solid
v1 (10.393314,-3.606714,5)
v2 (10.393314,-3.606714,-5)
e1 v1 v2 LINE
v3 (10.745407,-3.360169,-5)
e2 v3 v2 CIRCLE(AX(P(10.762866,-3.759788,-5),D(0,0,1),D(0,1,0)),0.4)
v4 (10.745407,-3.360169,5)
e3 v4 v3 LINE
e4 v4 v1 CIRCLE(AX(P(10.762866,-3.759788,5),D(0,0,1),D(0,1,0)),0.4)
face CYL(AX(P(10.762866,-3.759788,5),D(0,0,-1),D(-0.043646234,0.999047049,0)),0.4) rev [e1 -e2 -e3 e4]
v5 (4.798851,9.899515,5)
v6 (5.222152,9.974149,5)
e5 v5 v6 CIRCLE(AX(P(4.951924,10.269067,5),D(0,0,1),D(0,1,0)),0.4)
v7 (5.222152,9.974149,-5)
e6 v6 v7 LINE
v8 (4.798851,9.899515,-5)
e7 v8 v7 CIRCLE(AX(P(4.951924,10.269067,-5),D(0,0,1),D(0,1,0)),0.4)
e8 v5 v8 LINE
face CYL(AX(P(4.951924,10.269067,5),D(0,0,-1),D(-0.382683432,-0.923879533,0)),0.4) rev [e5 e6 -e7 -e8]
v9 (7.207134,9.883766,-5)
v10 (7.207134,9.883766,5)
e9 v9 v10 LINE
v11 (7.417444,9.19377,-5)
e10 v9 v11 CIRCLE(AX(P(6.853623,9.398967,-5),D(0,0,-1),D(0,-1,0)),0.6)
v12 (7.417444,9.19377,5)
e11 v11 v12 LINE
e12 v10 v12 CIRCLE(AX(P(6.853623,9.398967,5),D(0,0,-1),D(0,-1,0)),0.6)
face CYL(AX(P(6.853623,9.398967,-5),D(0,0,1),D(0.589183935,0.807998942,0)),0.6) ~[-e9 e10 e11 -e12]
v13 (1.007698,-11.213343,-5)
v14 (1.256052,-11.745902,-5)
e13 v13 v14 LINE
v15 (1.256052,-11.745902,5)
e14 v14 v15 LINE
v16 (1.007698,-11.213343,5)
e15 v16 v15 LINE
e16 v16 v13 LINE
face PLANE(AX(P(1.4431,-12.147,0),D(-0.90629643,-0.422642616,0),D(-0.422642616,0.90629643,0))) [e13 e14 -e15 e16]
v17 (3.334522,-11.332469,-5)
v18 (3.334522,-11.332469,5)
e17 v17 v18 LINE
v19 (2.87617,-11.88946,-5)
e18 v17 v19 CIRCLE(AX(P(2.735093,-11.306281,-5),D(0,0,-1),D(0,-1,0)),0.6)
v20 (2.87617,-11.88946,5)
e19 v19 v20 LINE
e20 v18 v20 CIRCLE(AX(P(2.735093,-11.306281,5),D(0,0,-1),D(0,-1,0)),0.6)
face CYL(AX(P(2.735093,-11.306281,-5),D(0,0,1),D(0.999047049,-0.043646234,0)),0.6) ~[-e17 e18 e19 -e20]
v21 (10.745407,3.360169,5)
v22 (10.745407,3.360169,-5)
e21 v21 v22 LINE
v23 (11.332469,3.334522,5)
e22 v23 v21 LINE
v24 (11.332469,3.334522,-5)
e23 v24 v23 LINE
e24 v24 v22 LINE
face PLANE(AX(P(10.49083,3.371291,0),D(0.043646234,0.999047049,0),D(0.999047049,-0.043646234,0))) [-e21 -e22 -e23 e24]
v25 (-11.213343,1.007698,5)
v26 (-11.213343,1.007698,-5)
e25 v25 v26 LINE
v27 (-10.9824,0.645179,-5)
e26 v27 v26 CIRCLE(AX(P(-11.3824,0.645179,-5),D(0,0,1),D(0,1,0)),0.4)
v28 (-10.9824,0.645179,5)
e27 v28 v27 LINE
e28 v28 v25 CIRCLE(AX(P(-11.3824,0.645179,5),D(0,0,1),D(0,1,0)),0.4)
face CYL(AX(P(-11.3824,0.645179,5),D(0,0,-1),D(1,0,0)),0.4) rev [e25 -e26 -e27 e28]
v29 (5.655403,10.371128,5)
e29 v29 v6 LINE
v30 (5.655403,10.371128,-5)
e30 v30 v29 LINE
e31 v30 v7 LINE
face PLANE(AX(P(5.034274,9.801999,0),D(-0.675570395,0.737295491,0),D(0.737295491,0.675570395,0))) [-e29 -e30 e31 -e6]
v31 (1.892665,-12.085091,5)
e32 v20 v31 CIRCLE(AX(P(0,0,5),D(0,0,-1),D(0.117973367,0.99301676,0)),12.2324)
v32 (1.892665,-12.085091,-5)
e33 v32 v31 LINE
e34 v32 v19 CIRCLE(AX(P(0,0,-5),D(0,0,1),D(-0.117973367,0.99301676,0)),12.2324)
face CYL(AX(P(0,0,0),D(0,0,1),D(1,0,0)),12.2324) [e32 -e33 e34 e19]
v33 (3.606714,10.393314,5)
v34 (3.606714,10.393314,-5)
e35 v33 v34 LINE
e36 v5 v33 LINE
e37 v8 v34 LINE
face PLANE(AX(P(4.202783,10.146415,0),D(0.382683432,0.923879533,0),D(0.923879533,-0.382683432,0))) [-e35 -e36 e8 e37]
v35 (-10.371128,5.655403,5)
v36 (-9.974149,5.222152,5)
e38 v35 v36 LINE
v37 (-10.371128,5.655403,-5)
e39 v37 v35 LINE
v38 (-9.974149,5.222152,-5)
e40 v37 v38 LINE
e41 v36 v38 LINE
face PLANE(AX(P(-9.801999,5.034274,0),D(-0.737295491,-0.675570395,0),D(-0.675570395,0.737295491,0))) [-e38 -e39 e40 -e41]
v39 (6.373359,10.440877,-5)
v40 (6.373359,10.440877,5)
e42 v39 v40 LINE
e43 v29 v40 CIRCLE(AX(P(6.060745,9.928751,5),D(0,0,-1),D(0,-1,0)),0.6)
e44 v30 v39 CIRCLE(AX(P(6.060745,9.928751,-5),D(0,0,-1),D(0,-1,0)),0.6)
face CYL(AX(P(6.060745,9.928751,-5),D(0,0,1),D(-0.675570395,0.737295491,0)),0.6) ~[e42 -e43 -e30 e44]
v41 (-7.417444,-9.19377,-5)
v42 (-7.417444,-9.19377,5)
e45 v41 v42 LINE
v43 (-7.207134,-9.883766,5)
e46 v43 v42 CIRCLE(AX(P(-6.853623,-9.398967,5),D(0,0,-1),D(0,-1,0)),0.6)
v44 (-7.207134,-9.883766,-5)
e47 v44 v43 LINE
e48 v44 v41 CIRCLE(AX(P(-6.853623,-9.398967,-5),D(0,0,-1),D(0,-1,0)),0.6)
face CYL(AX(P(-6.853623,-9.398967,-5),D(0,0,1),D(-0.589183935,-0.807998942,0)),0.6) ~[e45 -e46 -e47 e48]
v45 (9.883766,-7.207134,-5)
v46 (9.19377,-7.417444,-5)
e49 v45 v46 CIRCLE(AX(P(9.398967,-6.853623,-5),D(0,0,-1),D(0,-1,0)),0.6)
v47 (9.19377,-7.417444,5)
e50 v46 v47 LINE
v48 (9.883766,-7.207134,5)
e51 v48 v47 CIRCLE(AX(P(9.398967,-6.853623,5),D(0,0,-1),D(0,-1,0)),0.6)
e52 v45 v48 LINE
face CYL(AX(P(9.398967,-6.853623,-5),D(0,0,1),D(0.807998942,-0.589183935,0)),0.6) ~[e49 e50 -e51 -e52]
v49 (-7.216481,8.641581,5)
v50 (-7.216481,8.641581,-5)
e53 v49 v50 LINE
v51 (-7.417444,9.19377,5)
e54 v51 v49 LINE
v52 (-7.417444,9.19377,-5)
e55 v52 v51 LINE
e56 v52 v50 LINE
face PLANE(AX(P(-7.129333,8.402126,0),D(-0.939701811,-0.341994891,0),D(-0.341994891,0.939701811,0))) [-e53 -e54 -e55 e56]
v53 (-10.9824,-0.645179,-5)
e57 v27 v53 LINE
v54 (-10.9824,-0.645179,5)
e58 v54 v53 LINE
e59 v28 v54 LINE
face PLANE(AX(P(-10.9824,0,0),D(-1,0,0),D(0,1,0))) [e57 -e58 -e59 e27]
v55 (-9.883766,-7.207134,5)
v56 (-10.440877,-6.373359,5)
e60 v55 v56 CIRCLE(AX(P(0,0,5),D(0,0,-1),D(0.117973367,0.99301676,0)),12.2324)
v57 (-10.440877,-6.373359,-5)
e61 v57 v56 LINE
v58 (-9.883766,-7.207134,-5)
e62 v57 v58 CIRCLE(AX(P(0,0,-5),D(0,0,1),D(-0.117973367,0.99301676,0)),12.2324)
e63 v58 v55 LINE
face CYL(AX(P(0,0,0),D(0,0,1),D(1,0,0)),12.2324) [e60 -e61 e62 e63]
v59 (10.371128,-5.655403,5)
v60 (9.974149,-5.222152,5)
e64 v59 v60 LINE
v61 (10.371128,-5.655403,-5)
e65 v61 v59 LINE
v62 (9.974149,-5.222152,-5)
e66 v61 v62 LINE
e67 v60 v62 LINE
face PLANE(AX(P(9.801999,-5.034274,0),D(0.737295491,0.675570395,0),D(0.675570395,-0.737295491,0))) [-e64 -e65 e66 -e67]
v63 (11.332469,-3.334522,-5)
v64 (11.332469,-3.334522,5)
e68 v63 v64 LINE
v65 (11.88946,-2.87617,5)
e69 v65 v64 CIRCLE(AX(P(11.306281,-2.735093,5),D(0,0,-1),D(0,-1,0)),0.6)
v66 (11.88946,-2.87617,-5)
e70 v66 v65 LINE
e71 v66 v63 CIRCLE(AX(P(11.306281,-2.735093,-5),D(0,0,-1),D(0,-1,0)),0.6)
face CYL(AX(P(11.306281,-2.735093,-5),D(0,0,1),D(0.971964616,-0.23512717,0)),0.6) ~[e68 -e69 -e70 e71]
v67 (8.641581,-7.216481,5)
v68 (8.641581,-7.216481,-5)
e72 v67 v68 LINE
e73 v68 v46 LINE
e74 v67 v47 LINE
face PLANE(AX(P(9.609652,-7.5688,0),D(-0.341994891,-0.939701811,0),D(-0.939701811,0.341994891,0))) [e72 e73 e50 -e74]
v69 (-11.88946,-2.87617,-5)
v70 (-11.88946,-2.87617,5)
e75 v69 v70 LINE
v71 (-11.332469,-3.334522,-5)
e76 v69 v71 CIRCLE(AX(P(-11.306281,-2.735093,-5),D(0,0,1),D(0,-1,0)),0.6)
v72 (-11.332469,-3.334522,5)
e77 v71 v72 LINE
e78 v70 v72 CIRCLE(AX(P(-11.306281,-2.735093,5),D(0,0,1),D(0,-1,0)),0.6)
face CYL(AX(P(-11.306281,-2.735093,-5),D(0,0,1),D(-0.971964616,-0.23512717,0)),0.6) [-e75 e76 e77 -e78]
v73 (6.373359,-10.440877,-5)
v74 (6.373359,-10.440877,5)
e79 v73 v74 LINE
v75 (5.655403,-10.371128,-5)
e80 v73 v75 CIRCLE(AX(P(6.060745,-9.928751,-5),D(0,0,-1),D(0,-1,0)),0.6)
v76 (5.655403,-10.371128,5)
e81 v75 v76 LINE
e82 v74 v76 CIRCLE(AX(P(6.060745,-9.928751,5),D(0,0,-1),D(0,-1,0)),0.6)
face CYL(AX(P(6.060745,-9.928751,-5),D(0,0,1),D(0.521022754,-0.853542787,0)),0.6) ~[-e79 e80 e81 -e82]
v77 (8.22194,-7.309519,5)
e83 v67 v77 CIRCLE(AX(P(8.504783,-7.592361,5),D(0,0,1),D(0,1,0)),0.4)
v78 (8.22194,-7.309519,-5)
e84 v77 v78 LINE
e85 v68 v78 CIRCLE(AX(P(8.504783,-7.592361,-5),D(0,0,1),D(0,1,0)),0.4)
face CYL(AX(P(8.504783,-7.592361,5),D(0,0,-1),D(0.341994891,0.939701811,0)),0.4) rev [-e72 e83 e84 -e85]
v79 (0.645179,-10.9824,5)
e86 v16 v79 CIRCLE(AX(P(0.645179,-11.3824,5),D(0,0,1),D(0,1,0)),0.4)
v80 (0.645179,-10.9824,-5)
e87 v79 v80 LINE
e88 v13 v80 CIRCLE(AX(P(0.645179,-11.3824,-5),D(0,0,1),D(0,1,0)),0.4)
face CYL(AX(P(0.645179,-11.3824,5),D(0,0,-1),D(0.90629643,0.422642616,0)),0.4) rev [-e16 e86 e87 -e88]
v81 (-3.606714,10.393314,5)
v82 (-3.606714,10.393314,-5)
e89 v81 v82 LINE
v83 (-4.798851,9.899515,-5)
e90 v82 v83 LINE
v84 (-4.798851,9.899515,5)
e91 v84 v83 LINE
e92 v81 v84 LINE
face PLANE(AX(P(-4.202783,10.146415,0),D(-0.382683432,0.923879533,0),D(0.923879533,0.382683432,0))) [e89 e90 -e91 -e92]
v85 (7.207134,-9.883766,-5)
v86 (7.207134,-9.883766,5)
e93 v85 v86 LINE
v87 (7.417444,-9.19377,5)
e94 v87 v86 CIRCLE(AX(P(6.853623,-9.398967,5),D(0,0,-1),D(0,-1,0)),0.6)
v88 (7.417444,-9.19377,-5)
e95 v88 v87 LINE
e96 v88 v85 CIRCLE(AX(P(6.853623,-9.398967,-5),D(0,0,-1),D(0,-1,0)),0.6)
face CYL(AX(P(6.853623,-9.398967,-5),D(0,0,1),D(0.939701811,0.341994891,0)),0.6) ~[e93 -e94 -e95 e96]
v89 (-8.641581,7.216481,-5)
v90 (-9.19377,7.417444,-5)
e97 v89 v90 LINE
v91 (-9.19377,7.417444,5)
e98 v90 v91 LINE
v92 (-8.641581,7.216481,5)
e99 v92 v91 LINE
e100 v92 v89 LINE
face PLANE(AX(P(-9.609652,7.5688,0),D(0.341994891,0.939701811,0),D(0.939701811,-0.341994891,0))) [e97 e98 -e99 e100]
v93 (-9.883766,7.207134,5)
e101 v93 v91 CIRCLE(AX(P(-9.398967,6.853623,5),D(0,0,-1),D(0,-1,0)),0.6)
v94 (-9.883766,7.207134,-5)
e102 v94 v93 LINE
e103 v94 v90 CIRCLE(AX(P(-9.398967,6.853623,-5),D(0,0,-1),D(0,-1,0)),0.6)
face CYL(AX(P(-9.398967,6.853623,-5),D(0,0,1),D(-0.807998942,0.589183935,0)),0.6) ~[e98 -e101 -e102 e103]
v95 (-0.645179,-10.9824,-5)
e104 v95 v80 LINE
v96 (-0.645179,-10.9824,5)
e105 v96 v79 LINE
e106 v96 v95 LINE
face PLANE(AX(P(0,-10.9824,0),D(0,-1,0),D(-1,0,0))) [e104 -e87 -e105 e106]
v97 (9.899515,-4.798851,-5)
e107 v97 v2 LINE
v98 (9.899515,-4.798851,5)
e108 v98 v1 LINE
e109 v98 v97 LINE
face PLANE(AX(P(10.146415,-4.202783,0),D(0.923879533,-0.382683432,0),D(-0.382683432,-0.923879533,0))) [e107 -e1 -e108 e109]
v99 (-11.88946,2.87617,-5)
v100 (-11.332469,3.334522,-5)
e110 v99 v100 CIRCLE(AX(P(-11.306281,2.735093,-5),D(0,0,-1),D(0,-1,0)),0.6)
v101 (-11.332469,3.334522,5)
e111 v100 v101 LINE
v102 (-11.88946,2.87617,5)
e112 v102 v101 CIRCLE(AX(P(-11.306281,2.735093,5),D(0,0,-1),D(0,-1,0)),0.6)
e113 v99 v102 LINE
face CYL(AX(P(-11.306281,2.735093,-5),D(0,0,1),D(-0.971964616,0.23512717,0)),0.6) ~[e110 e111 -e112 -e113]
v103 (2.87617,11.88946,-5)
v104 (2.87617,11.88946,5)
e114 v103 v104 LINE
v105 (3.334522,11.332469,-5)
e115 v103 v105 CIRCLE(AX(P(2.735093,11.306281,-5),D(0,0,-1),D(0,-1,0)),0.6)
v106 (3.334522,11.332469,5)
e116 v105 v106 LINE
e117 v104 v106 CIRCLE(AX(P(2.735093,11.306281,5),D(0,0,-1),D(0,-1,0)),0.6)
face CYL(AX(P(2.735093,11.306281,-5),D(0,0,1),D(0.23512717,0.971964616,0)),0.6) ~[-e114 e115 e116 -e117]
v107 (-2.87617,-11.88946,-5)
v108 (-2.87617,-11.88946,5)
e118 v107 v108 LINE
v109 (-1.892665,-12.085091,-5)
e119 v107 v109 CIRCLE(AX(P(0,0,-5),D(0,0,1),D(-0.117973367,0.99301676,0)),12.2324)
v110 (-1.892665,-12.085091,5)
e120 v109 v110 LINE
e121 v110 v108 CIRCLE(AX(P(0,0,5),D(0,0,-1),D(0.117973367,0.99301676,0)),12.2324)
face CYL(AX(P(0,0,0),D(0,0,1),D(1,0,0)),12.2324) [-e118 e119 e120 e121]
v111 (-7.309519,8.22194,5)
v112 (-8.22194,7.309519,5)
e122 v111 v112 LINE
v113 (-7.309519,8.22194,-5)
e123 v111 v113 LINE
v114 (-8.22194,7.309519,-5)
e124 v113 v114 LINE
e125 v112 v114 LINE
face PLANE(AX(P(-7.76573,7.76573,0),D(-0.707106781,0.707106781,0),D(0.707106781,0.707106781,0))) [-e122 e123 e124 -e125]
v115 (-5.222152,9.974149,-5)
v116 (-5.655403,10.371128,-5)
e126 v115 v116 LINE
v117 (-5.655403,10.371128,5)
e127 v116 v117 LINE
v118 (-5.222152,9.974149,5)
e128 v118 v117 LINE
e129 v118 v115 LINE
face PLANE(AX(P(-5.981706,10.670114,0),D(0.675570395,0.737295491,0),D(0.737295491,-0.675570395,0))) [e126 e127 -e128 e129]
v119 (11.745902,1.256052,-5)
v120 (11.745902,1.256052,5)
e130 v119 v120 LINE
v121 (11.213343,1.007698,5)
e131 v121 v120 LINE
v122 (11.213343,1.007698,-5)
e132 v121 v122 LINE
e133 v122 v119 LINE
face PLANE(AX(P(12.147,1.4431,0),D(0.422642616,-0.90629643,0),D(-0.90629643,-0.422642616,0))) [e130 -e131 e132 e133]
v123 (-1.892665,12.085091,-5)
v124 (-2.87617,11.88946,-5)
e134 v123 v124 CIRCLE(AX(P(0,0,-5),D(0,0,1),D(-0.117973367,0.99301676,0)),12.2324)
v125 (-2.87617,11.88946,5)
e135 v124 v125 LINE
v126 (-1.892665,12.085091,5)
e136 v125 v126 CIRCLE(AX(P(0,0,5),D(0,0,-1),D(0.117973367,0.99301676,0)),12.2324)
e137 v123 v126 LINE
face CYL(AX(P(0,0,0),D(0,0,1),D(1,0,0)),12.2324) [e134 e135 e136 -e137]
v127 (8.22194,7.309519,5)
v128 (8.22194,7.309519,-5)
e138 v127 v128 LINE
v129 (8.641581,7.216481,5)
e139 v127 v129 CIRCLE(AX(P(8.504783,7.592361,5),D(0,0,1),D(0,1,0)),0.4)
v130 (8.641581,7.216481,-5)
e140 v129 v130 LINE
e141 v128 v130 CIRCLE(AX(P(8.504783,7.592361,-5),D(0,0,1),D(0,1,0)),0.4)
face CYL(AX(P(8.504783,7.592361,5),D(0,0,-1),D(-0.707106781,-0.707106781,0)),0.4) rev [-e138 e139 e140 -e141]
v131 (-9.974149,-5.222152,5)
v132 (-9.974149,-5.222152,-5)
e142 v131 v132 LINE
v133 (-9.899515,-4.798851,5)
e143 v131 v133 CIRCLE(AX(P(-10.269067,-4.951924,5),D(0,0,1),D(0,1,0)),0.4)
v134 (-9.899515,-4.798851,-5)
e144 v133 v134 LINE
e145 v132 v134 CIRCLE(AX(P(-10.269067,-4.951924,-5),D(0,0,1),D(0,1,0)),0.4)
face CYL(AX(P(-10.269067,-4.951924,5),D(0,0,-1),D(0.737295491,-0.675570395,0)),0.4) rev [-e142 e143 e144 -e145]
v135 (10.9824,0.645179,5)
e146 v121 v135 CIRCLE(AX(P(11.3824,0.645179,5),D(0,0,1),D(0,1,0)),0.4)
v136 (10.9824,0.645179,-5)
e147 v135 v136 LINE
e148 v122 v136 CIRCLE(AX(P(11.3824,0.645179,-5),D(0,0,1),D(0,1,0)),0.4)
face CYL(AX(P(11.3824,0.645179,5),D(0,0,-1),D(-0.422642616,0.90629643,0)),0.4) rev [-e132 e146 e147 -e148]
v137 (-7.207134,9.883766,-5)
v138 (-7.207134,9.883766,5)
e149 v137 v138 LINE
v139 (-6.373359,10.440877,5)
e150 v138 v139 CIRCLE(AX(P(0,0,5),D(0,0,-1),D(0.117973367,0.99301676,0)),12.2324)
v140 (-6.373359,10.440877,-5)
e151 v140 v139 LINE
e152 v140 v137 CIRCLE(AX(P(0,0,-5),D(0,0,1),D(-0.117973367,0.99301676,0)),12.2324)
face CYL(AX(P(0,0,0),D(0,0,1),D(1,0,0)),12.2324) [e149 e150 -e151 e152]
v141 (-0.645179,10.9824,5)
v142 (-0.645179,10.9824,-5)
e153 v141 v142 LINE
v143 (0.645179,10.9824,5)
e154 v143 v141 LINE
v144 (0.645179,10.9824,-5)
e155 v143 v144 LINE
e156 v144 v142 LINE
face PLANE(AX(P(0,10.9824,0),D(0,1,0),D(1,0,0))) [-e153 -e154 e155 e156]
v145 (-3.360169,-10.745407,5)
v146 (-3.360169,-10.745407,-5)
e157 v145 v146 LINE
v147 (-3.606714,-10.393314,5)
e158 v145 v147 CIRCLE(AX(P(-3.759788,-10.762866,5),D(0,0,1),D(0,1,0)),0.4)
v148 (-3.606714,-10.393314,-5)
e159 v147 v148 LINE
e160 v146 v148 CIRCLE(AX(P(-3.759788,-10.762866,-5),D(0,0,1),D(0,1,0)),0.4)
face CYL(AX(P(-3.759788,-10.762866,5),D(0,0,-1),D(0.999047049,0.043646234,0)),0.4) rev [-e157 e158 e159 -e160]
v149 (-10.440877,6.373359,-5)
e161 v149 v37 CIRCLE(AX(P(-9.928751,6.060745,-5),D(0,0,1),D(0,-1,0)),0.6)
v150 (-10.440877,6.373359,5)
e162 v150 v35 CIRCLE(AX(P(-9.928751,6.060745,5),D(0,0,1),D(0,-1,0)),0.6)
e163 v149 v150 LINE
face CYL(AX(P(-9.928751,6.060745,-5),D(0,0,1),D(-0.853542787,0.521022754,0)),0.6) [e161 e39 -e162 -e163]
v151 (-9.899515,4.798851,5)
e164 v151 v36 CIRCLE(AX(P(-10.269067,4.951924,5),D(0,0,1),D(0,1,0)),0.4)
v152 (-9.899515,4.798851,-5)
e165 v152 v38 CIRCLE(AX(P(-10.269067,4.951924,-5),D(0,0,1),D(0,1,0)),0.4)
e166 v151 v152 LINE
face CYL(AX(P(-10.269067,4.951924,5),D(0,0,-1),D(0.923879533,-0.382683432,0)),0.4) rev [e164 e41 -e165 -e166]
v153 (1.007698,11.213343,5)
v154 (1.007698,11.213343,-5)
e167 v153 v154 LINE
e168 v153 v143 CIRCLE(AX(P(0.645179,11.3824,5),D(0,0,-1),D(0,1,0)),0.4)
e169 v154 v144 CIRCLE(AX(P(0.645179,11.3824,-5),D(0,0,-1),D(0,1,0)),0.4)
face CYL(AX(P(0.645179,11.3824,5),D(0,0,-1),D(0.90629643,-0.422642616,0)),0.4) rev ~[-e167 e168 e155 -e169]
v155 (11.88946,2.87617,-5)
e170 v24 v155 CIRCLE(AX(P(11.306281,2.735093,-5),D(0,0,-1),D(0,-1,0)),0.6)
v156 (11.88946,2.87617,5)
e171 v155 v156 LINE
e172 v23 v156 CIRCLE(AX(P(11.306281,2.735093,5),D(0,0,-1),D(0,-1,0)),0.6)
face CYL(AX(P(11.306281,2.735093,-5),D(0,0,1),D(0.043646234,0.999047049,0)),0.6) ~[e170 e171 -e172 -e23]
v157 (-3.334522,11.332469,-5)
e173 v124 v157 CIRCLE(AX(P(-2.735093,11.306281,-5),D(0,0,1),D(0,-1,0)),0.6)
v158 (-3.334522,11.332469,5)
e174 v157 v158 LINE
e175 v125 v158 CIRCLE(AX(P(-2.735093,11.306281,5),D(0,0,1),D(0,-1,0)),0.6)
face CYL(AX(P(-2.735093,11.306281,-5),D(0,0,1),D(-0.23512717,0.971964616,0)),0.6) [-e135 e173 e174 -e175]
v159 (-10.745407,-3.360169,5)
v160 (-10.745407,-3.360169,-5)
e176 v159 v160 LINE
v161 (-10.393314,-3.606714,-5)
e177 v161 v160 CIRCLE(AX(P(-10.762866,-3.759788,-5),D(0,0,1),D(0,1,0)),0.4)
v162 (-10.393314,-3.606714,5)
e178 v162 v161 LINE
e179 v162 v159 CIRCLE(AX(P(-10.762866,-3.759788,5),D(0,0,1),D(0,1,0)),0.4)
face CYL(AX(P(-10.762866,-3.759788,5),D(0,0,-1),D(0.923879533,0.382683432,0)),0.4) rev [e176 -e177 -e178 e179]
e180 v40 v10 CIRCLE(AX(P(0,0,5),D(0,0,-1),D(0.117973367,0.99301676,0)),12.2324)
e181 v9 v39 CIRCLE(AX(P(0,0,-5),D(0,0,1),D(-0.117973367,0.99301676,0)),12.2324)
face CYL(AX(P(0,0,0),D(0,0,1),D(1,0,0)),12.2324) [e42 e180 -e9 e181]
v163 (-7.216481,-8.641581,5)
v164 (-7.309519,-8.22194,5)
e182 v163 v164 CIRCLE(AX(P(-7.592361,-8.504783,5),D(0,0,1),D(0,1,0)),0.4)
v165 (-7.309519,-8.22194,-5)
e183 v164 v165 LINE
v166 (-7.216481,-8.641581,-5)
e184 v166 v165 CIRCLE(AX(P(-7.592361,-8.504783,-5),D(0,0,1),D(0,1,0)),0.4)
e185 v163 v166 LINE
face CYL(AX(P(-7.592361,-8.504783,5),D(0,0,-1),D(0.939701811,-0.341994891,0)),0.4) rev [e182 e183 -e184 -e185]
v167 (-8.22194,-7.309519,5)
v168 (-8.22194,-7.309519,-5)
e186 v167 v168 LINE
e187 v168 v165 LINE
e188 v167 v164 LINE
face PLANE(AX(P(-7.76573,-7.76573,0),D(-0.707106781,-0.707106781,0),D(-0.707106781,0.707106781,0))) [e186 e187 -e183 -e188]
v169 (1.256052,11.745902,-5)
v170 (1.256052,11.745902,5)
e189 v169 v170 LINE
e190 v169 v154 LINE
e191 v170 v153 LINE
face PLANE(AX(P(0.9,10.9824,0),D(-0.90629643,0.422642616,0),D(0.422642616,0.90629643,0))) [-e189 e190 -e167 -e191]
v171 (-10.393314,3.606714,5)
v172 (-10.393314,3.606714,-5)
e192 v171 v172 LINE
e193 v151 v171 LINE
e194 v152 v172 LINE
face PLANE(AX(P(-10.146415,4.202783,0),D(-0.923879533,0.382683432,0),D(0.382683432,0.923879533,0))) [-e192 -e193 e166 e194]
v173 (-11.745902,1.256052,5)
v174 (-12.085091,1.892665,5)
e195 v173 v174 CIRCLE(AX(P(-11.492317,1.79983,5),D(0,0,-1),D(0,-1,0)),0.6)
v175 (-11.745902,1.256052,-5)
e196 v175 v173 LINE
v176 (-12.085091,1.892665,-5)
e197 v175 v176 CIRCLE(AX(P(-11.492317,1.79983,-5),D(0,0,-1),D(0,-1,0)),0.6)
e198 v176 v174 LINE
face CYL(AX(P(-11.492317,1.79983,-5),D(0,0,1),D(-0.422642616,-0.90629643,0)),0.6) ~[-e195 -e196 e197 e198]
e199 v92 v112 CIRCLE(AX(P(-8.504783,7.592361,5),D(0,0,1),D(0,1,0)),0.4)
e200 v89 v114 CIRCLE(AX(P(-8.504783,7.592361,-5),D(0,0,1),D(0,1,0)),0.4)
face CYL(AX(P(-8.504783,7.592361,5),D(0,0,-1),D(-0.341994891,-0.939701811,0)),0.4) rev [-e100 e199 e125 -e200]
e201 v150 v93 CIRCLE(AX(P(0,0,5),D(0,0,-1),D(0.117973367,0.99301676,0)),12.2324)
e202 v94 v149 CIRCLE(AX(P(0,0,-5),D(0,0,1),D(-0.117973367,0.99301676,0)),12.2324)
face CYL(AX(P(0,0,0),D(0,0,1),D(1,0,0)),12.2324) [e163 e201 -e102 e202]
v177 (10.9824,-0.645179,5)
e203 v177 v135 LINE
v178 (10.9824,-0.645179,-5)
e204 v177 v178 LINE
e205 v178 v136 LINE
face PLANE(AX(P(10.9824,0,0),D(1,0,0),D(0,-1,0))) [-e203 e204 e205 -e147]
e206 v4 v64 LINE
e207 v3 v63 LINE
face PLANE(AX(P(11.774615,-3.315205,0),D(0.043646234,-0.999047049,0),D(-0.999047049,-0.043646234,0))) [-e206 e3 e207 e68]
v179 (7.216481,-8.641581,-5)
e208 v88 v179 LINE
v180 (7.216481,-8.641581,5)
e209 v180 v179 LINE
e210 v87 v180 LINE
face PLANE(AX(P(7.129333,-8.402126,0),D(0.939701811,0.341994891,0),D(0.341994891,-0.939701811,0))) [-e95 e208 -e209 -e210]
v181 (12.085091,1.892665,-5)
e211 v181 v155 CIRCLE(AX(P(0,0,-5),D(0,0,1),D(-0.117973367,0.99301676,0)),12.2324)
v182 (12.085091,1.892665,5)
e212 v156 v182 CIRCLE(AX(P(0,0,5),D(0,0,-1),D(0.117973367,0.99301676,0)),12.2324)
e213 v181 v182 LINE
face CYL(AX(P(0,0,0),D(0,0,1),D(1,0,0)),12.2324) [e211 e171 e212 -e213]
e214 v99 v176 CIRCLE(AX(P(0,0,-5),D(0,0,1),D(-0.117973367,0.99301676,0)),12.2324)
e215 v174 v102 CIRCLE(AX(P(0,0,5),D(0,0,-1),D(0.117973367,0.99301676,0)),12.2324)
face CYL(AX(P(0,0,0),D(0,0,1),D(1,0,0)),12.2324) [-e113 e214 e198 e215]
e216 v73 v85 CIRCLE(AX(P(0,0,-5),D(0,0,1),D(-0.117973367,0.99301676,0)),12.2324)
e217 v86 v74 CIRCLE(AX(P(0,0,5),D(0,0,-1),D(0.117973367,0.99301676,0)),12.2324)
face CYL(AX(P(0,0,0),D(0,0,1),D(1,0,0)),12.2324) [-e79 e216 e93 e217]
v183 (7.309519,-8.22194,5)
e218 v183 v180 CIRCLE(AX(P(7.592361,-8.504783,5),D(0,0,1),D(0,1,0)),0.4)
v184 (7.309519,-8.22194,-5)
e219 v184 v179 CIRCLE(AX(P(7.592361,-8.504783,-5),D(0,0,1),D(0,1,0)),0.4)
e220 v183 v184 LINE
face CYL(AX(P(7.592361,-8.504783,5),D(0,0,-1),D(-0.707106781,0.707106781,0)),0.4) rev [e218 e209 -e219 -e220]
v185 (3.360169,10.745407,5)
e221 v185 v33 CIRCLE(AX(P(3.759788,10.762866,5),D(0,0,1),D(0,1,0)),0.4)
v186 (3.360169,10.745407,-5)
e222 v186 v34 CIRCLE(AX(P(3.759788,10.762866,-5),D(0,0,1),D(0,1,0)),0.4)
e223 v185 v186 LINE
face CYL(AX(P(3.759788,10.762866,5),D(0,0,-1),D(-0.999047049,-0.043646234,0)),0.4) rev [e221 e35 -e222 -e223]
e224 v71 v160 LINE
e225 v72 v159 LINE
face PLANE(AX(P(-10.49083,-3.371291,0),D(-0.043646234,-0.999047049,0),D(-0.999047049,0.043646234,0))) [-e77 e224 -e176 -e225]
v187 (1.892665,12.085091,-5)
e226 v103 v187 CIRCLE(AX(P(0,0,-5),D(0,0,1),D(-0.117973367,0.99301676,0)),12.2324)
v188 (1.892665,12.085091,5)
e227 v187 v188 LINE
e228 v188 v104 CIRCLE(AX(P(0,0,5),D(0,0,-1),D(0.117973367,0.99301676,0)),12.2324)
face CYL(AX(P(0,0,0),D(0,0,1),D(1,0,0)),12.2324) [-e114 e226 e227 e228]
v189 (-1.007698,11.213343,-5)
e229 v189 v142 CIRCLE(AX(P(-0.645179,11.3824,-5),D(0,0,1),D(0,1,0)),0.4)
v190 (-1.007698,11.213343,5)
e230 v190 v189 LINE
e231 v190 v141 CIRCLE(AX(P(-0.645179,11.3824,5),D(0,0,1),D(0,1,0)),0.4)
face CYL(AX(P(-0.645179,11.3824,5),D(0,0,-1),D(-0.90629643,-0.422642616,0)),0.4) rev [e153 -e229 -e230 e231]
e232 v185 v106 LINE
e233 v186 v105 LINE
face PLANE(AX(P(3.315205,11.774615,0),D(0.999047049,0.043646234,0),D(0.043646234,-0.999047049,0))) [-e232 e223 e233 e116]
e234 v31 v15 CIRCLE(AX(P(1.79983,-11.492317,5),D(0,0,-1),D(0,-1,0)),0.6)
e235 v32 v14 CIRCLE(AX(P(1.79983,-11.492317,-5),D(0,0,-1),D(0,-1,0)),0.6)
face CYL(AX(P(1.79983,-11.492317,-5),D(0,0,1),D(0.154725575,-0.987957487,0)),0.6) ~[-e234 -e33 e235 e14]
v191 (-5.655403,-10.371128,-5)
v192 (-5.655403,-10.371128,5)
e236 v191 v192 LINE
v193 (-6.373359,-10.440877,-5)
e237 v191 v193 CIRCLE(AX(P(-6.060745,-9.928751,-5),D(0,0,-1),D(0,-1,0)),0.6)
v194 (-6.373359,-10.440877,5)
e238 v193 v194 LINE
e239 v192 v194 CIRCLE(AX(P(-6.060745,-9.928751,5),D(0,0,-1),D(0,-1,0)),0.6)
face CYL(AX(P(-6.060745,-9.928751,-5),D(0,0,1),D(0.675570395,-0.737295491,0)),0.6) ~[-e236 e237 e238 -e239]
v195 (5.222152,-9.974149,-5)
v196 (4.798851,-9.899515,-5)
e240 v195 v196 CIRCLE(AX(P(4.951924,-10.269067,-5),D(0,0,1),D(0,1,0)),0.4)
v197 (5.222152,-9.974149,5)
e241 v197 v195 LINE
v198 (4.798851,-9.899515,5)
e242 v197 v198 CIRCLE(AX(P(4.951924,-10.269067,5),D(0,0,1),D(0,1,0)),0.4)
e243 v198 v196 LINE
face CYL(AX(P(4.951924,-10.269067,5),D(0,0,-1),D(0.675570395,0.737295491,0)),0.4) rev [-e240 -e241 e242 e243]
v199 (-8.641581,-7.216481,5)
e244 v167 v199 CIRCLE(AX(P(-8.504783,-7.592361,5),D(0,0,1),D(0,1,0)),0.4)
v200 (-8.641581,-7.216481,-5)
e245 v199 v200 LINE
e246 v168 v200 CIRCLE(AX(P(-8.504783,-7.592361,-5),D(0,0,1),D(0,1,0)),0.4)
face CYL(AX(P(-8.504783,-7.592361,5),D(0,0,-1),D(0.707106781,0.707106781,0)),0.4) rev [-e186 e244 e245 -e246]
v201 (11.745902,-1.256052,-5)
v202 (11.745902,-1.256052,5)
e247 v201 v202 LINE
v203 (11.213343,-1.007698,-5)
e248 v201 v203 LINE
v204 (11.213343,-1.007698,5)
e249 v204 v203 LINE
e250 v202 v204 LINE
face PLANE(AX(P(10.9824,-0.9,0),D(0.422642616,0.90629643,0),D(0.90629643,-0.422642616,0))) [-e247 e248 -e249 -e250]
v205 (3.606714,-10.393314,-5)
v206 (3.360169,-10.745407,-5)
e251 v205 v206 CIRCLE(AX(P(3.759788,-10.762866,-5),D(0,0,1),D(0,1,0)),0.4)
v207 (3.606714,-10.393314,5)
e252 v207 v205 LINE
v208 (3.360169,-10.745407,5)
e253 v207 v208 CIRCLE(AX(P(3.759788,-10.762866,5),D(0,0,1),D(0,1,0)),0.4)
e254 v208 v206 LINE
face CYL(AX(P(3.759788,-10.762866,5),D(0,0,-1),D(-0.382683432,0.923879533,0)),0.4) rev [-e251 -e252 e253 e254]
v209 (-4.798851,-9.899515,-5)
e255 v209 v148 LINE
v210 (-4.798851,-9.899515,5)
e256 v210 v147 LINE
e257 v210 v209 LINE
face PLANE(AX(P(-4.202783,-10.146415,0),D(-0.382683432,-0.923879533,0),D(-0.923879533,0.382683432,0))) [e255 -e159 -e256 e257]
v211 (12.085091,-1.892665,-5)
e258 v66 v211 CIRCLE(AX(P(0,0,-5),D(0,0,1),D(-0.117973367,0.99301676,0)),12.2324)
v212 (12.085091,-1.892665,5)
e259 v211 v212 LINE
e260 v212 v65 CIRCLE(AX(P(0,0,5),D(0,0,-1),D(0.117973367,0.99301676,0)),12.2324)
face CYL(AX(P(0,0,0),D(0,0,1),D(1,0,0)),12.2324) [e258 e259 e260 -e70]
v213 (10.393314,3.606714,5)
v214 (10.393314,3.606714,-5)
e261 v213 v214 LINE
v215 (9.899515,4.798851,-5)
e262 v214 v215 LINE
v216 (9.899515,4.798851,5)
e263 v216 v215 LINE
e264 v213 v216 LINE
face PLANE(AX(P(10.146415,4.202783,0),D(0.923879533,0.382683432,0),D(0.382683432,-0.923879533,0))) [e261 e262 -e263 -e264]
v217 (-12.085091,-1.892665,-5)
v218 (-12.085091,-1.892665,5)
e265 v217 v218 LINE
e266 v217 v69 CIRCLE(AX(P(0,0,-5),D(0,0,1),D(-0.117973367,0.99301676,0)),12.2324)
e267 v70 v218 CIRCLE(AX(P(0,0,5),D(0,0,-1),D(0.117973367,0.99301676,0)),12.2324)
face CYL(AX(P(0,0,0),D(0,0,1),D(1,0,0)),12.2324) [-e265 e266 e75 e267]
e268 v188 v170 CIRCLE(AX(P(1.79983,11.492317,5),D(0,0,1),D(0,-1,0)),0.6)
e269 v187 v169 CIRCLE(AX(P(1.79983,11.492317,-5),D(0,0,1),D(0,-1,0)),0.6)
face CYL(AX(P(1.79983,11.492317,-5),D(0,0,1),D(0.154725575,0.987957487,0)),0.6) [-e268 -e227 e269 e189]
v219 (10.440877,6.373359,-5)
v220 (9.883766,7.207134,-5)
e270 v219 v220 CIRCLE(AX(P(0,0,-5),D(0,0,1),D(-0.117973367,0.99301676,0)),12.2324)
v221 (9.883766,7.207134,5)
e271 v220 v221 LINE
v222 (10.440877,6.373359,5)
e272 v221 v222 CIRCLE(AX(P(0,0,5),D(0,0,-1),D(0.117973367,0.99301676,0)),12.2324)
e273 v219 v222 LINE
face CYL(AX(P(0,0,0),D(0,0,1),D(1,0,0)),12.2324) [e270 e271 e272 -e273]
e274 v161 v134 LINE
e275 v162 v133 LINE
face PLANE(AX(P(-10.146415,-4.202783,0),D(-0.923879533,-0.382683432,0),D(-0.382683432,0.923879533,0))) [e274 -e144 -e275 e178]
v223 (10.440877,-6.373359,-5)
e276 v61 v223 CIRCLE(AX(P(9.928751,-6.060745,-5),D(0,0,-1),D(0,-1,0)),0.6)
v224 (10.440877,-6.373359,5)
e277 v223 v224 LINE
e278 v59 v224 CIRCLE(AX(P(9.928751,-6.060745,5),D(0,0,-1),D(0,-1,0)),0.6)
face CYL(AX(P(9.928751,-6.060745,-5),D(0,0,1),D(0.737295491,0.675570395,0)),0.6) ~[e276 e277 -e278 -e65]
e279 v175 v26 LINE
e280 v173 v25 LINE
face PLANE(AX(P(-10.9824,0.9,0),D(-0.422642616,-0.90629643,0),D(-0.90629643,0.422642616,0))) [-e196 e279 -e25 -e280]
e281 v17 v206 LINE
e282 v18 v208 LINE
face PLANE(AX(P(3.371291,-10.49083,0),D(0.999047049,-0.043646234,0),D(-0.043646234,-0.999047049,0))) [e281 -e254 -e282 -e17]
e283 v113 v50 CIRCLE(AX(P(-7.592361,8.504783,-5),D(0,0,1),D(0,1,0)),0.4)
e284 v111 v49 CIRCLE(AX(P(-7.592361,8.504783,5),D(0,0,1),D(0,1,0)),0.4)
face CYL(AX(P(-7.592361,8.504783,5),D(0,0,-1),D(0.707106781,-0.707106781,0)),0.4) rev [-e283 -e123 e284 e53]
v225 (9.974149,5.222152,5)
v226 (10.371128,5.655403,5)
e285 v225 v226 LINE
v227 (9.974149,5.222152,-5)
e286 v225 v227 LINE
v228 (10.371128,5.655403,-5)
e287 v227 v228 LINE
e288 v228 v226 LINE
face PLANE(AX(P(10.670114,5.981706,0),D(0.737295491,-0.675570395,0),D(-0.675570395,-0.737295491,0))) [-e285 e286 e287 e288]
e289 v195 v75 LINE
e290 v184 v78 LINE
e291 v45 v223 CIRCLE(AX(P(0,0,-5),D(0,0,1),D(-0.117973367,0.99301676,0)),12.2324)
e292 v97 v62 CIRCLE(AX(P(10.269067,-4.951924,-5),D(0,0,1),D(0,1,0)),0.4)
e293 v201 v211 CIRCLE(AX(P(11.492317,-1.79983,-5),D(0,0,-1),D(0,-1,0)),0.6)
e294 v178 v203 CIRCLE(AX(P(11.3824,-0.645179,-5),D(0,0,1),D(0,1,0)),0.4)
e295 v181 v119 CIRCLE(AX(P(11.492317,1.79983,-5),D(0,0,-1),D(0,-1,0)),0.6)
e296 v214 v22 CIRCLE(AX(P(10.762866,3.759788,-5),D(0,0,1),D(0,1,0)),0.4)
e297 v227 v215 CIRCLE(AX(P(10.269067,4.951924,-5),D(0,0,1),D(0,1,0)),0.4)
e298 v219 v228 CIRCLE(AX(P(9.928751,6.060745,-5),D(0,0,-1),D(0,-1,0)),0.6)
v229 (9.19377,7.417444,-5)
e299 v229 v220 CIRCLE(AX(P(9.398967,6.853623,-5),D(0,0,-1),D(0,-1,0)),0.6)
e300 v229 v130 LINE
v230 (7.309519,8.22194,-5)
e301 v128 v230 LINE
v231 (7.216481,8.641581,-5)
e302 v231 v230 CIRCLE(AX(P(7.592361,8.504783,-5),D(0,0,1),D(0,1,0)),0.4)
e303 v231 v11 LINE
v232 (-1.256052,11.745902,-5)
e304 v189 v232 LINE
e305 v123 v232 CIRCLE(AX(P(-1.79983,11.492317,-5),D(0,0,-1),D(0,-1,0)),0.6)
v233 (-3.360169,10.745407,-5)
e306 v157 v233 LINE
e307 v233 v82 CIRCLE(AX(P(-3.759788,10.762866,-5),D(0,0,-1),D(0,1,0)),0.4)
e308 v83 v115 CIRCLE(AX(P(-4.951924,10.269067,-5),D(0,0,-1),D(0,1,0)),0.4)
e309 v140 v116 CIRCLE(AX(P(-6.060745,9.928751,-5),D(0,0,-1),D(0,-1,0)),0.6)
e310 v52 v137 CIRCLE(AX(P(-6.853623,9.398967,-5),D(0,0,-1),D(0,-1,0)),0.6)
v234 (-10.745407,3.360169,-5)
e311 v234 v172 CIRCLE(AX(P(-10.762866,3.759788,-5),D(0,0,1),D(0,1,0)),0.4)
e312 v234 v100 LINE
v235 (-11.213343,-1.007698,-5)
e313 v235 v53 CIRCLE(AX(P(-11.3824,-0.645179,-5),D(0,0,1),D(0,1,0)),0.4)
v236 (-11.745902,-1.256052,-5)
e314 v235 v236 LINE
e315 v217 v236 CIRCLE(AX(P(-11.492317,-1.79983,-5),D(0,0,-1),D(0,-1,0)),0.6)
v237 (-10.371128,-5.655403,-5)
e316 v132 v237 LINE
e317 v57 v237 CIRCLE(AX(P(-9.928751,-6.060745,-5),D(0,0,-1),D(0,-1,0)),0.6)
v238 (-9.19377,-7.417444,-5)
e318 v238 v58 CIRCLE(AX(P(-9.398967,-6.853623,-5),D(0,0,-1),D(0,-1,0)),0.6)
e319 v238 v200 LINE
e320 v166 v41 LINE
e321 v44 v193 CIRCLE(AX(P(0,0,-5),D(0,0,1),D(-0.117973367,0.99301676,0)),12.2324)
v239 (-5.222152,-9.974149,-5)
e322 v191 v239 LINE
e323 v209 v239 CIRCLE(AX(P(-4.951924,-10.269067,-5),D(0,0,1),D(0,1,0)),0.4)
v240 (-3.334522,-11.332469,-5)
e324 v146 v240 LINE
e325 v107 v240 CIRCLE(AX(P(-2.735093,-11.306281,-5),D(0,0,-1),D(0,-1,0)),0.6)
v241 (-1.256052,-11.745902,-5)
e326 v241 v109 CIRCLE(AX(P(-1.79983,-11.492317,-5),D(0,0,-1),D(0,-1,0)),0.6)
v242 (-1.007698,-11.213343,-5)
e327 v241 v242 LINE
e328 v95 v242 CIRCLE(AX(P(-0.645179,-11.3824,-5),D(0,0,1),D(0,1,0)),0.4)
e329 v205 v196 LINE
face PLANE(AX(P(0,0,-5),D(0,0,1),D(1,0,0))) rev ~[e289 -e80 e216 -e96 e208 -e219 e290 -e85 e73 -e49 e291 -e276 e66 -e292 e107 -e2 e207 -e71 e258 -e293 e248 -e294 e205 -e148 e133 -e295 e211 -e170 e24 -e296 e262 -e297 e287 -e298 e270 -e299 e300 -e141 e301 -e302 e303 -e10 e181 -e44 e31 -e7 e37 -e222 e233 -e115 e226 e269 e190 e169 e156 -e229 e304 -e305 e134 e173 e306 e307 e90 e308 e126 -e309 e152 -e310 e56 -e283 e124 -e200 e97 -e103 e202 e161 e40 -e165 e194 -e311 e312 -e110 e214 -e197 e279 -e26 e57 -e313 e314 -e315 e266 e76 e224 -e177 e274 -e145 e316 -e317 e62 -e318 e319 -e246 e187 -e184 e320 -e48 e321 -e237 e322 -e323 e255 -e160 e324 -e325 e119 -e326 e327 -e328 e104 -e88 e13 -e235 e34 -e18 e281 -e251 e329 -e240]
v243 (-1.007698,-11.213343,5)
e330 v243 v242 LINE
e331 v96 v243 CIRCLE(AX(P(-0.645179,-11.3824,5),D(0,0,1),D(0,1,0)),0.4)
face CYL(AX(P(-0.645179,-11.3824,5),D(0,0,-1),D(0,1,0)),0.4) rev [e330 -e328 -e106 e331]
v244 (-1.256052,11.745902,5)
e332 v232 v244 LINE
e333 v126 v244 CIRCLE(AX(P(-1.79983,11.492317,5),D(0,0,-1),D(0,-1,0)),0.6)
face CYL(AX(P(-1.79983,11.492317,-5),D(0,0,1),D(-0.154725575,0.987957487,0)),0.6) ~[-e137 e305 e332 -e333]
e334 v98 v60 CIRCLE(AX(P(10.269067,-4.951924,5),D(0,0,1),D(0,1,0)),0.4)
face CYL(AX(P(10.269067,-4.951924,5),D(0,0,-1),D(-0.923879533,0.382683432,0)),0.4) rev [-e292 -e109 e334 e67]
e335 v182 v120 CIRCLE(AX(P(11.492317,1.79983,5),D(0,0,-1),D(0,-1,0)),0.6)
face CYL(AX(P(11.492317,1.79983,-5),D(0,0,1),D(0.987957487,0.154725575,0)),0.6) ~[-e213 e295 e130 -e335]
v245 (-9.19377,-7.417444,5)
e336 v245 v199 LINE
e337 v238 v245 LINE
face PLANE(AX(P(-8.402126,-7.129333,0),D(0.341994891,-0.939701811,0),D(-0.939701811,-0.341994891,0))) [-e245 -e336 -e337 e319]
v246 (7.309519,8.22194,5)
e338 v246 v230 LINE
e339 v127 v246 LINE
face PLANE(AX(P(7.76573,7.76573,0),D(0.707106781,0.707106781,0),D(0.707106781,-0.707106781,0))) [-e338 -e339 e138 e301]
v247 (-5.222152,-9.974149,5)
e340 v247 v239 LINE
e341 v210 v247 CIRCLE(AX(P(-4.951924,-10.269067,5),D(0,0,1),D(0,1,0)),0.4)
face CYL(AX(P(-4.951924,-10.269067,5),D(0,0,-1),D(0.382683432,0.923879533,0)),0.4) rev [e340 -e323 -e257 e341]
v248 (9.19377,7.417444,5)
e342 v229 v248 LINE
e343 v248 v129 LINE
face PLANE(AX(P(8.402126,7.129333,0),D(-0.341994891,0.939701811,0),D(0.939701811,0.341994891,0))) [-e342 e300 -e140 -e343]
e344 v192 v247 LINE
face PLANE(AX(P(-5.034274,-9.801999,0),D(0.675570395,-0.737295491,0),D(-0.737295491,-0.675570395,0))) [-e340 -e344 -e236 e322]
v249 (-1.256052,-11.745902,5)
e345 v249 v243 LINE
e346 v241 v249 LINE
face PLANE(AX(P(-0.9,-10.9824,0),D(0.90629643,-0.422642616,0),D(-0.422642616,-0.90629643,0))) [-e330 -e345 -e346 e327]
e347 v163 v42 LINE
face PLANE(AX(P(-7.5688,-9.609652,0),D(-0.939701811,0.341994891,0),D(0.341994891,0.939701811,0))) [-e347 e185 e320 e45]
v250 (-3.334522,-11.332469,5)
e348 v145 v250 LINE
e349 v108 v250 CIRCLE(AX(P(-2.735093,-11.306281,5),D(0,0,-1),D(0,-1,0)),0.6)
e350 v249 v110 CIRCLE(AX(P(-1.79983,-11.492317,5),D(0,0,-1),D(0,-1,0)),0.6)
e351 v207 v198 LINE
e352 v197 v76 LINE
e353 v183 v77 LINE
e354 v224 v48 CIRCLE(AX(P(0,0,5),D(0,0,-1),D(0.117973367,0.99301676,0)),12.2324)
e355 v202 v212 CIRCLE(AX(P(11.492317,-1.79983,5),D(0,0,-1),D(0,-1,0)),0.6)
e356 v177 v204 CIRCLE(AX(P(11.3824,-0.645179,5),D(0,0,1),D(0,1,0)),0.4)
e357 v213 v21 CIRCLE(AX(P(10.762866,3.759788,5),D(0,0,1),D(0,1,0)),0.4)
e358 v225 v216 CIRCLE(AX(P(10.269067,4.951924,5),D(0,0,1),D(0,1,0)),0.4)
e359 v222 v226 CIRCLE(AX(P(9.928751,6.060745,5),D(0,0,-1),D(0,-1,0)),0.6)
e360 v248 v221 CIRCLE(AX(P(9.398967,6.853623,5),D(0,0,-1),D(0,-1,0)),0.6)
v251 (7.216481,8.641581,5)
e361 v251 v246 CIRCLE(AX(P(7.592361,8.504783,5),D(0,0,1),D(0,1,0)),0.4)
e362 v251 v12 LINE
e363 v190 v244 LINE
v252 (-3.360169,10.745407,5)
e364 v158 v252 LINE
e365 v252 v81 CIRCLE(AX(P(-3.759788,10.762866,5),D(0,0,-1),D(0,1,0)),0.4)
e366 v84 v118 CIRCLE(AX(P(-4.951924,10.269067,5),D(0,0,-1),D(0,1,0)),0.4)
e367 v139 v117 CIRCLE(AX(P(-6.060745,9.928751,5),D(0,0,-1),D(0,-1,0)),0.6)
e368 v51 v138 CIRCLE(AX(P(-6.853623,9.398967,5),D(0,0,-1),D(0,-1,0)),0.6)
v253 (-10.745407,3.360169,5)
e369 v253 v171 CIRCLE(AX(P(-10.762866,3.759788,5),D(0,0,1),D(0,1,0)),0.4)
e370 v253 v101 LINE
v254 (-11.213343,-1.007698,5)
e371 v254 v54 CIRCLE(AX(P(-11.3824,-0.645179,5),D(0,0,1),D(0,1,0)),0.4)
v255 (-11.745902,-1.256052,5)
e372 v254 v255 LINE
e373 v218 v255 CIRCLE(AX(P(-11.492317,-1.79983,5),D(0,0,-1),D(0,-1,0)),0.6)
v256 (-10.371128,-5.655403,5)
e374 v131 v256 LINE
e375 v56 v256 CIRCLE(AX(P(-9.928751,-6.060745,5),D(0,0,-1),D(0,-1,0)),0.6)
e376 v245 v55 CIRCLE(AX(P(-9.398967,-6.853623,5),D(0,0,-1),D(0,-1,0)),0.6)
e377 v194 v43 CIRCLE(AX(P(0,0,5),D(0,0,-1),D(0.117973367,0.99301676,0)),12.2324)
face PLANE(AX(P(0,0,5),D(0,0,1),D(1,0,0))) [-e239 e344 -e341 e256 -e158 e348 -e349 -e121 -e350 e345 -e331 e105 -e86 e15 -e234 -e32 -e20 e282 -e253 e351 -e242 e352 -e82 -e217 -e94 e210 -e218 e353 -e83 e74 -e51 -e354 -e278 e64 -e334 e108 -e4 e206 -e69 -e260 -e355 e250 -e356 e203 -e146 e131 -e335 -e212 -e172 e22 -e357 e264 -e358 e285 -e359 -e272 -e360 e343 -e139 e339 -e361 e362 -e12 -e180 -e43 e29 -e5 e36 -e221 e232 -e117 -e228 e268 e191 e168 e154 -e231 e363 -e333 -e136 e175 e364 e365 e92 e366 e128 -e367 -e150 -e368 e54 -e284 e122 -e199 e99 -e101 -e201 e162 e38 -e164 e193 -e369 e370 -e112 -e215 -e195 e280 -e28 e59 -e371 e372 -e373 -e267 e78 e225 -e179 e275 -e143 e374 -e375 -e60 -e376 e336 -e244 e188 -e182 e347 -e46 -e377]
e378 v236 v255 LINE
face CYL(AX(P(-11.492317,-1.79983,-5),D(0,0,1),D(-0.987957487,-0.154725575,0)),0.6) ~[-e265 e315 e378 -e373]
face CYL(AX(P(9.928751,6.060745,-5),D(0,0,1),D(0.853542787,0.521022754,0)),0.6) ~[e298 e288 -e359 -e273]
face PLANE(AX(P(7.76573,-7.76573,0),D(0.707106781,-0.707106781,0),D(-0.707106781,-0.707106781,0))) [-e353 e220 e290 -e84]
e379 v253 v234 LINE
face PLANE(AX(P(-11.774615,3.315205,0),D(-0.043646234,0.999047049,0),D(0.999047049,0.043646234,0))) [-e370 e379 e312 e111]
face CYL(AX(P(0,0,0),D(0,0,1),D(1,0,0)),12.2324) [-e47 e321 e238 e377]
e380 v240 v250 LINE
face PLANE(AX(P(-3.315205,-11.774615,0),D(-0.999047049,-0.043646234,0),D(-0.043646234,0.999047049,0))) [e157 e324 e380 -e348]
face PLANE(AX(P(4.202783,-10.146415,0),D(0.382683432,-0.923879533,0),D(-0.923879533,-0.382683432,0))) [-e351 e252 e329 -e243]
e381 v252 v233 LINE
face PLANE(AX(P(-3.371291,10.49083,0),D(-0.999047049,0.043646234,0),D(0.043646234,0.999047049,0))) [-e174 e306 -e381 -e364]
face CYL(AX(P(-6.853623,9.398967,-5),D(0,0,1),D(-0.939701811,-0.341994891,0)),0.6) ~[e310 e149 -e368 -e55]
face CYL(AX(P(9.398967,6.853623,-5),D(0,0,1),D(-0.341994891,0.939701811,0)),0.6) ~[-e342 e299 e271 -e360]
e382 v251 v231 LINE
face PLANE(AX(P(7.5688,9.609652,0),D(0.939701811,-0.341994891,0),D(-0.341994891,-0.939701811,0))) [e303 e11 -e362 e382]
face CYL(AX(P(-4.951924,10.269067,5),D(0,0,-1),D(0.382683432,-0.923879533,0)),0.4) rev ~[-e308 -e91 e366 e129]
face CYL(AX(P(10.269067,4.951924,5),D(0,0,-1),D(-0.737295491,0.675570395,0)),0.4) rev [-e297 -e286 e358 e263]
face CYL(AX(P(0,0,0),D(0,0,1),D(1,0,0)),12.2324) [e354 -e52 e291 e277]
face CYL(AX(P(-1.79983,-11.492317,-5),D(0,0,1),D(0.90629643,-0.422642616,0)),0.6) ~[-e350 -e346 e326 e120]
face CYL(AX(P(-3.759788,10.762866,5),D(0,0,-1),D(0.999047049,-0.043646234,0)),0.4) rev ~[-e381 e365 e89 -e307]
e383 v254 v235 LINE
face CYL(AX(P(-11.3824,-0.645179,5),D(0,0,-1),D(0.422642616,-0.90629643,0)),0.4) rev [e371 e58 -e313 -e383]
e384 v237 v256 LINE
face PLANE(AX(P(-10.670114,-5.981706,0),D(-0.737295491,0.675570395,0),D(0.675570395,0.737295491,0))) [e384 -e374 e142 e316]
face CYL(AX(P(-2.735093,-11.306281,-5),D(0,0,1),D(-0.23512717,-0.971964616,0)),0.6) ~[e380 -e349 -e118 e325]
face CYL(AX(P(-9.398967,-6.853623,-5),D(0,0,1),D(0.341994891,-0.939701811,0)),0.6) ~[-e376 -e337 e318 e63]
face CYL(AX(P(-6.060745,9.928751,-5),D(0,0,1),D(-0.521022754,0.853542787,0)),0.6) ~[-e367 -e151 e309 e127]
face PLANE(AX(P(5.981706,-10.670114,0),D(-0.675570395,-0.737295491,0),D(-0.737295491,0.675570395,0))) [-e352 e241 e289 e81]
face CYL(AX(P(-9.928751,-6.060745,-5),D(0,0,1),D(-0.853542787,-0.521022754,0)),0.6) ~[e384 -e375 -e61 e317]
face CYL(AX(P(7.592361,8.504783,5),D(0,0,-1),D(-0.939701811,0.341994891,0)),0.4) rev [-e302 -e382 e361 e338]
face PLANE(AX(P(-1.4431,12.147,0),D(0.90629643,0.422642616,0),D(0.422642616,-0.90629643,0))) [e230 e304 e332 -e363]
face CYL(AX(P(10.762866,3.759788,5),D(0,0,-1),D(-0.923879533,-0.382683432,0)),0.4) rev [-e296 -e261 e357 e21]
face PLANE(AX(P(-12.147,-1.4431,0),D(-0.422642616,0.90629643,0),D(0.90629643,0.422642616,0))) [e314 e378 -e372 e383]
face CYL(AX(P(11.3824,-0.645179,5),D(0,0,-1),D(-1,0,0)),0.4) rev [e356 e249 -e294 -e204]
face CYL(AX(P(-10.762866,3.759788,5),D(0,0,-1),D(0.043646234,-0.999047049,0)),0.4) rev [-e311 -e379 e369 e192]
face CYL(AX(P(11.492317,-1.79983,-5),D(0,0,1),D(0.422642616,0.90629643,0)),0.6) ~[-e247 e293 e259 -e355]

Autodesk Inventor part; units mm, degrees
ref_plane "YZ Plane" through (0, 0, 0) normal (1, 0, 0) x (0, 1, 0)
ref_plane "XZ Plane" through (0, 0, 0) normal (0, 1, 0) x (-1, 0, 0)
ref_plane "XY Plane" through (0, 0, 0) normal (0, 0, 1) x (1, 0, 0)
sketch "Boceto de polea" plane through (0, 0, 0) normal (0, 0, 1) x (1, 0, 0)
  circle A0 centre (0, 0) radius 12.7324 construction
  circle A1 centre (0, 0) radius 12.2324
  circle A2 centre (0, 0) radius 10.9824
  line L0 (-1.4431, 12.147) -> (-0.9, 10.9824)
  line L1 (-0.9, 10.9824) -> (0.9, 10.9824)
  line L2 (0.9, 10.9824) -> (1.4431, 12.147)
  line L3 (0, 0) -> (0, 12.2324) construction
  point P0 (0, 10.9824)
  dimension "d0" = 25.4648
  dimension "d1" = 0.5
  dimension "d2" = 1.25
  dimension "d3" = 50
  dimension "d4" = 1.8
extrude "Cuerpo base" add sketch "Boceto de polea" along normal mid plane 10 contours A2 | A1 L0 L1 L2 | L2 L1 L0 A1
extrude "Diente" cut sketch "Boceto de polea" along normal through all both and the other way through all contours L2 L1 L0 A1 picked at (0, 11.8094)
fillet "Fillet" radius 0.4 2 edges at (0.9, 10.9824, 0) (-0.9, 10.9824, 0)
fillet "Fillet" radius 0.6 4 edges at (-1.4431, 12.147, 2.5) (-1.4431, 12.147, -2.5) (1.4431, 12.147, 2.5) (1.4431, 12.147, -2.5)
pattern_circular "Dientes" count 16 over 360 about axis through (0, 0, -10) along (0, 0, 1) of "Diente", "Fillet"
feature "Pestaña izquierda" [suppressed]
feature "Pestaña derecha" [suppressed]
equation "\"d1\" = da_a"
equation "\"d2\" = da_hg"
equation "\"d3\" = 2 * da_fi"
equation "\"d4\" = da_bw"
equation "\"d5\" = da_bf"
equation "\"d7\" = da_bf"
equation "\"d9\" = da_rb"
equation "\"d10\" = da_rt"
equation "\"da_pb\" = 5"
equation "\"da_fi\" = 25deg"
equation "\"da_hg\" = 1.25"
equation "\"da_bw\" = 1.8"
equation "\"da_rb\" = 0.4"
equation "\"da_rt\" = 0.6"
equation "\"da_a\" = 0.5"
equation "\"da_bf\" = 10"
equation "\"da_wf\" = 1.5"
equation "\"da_hf\" = 1.5"
properties part number "Polea síncrona1" material "Steel"
